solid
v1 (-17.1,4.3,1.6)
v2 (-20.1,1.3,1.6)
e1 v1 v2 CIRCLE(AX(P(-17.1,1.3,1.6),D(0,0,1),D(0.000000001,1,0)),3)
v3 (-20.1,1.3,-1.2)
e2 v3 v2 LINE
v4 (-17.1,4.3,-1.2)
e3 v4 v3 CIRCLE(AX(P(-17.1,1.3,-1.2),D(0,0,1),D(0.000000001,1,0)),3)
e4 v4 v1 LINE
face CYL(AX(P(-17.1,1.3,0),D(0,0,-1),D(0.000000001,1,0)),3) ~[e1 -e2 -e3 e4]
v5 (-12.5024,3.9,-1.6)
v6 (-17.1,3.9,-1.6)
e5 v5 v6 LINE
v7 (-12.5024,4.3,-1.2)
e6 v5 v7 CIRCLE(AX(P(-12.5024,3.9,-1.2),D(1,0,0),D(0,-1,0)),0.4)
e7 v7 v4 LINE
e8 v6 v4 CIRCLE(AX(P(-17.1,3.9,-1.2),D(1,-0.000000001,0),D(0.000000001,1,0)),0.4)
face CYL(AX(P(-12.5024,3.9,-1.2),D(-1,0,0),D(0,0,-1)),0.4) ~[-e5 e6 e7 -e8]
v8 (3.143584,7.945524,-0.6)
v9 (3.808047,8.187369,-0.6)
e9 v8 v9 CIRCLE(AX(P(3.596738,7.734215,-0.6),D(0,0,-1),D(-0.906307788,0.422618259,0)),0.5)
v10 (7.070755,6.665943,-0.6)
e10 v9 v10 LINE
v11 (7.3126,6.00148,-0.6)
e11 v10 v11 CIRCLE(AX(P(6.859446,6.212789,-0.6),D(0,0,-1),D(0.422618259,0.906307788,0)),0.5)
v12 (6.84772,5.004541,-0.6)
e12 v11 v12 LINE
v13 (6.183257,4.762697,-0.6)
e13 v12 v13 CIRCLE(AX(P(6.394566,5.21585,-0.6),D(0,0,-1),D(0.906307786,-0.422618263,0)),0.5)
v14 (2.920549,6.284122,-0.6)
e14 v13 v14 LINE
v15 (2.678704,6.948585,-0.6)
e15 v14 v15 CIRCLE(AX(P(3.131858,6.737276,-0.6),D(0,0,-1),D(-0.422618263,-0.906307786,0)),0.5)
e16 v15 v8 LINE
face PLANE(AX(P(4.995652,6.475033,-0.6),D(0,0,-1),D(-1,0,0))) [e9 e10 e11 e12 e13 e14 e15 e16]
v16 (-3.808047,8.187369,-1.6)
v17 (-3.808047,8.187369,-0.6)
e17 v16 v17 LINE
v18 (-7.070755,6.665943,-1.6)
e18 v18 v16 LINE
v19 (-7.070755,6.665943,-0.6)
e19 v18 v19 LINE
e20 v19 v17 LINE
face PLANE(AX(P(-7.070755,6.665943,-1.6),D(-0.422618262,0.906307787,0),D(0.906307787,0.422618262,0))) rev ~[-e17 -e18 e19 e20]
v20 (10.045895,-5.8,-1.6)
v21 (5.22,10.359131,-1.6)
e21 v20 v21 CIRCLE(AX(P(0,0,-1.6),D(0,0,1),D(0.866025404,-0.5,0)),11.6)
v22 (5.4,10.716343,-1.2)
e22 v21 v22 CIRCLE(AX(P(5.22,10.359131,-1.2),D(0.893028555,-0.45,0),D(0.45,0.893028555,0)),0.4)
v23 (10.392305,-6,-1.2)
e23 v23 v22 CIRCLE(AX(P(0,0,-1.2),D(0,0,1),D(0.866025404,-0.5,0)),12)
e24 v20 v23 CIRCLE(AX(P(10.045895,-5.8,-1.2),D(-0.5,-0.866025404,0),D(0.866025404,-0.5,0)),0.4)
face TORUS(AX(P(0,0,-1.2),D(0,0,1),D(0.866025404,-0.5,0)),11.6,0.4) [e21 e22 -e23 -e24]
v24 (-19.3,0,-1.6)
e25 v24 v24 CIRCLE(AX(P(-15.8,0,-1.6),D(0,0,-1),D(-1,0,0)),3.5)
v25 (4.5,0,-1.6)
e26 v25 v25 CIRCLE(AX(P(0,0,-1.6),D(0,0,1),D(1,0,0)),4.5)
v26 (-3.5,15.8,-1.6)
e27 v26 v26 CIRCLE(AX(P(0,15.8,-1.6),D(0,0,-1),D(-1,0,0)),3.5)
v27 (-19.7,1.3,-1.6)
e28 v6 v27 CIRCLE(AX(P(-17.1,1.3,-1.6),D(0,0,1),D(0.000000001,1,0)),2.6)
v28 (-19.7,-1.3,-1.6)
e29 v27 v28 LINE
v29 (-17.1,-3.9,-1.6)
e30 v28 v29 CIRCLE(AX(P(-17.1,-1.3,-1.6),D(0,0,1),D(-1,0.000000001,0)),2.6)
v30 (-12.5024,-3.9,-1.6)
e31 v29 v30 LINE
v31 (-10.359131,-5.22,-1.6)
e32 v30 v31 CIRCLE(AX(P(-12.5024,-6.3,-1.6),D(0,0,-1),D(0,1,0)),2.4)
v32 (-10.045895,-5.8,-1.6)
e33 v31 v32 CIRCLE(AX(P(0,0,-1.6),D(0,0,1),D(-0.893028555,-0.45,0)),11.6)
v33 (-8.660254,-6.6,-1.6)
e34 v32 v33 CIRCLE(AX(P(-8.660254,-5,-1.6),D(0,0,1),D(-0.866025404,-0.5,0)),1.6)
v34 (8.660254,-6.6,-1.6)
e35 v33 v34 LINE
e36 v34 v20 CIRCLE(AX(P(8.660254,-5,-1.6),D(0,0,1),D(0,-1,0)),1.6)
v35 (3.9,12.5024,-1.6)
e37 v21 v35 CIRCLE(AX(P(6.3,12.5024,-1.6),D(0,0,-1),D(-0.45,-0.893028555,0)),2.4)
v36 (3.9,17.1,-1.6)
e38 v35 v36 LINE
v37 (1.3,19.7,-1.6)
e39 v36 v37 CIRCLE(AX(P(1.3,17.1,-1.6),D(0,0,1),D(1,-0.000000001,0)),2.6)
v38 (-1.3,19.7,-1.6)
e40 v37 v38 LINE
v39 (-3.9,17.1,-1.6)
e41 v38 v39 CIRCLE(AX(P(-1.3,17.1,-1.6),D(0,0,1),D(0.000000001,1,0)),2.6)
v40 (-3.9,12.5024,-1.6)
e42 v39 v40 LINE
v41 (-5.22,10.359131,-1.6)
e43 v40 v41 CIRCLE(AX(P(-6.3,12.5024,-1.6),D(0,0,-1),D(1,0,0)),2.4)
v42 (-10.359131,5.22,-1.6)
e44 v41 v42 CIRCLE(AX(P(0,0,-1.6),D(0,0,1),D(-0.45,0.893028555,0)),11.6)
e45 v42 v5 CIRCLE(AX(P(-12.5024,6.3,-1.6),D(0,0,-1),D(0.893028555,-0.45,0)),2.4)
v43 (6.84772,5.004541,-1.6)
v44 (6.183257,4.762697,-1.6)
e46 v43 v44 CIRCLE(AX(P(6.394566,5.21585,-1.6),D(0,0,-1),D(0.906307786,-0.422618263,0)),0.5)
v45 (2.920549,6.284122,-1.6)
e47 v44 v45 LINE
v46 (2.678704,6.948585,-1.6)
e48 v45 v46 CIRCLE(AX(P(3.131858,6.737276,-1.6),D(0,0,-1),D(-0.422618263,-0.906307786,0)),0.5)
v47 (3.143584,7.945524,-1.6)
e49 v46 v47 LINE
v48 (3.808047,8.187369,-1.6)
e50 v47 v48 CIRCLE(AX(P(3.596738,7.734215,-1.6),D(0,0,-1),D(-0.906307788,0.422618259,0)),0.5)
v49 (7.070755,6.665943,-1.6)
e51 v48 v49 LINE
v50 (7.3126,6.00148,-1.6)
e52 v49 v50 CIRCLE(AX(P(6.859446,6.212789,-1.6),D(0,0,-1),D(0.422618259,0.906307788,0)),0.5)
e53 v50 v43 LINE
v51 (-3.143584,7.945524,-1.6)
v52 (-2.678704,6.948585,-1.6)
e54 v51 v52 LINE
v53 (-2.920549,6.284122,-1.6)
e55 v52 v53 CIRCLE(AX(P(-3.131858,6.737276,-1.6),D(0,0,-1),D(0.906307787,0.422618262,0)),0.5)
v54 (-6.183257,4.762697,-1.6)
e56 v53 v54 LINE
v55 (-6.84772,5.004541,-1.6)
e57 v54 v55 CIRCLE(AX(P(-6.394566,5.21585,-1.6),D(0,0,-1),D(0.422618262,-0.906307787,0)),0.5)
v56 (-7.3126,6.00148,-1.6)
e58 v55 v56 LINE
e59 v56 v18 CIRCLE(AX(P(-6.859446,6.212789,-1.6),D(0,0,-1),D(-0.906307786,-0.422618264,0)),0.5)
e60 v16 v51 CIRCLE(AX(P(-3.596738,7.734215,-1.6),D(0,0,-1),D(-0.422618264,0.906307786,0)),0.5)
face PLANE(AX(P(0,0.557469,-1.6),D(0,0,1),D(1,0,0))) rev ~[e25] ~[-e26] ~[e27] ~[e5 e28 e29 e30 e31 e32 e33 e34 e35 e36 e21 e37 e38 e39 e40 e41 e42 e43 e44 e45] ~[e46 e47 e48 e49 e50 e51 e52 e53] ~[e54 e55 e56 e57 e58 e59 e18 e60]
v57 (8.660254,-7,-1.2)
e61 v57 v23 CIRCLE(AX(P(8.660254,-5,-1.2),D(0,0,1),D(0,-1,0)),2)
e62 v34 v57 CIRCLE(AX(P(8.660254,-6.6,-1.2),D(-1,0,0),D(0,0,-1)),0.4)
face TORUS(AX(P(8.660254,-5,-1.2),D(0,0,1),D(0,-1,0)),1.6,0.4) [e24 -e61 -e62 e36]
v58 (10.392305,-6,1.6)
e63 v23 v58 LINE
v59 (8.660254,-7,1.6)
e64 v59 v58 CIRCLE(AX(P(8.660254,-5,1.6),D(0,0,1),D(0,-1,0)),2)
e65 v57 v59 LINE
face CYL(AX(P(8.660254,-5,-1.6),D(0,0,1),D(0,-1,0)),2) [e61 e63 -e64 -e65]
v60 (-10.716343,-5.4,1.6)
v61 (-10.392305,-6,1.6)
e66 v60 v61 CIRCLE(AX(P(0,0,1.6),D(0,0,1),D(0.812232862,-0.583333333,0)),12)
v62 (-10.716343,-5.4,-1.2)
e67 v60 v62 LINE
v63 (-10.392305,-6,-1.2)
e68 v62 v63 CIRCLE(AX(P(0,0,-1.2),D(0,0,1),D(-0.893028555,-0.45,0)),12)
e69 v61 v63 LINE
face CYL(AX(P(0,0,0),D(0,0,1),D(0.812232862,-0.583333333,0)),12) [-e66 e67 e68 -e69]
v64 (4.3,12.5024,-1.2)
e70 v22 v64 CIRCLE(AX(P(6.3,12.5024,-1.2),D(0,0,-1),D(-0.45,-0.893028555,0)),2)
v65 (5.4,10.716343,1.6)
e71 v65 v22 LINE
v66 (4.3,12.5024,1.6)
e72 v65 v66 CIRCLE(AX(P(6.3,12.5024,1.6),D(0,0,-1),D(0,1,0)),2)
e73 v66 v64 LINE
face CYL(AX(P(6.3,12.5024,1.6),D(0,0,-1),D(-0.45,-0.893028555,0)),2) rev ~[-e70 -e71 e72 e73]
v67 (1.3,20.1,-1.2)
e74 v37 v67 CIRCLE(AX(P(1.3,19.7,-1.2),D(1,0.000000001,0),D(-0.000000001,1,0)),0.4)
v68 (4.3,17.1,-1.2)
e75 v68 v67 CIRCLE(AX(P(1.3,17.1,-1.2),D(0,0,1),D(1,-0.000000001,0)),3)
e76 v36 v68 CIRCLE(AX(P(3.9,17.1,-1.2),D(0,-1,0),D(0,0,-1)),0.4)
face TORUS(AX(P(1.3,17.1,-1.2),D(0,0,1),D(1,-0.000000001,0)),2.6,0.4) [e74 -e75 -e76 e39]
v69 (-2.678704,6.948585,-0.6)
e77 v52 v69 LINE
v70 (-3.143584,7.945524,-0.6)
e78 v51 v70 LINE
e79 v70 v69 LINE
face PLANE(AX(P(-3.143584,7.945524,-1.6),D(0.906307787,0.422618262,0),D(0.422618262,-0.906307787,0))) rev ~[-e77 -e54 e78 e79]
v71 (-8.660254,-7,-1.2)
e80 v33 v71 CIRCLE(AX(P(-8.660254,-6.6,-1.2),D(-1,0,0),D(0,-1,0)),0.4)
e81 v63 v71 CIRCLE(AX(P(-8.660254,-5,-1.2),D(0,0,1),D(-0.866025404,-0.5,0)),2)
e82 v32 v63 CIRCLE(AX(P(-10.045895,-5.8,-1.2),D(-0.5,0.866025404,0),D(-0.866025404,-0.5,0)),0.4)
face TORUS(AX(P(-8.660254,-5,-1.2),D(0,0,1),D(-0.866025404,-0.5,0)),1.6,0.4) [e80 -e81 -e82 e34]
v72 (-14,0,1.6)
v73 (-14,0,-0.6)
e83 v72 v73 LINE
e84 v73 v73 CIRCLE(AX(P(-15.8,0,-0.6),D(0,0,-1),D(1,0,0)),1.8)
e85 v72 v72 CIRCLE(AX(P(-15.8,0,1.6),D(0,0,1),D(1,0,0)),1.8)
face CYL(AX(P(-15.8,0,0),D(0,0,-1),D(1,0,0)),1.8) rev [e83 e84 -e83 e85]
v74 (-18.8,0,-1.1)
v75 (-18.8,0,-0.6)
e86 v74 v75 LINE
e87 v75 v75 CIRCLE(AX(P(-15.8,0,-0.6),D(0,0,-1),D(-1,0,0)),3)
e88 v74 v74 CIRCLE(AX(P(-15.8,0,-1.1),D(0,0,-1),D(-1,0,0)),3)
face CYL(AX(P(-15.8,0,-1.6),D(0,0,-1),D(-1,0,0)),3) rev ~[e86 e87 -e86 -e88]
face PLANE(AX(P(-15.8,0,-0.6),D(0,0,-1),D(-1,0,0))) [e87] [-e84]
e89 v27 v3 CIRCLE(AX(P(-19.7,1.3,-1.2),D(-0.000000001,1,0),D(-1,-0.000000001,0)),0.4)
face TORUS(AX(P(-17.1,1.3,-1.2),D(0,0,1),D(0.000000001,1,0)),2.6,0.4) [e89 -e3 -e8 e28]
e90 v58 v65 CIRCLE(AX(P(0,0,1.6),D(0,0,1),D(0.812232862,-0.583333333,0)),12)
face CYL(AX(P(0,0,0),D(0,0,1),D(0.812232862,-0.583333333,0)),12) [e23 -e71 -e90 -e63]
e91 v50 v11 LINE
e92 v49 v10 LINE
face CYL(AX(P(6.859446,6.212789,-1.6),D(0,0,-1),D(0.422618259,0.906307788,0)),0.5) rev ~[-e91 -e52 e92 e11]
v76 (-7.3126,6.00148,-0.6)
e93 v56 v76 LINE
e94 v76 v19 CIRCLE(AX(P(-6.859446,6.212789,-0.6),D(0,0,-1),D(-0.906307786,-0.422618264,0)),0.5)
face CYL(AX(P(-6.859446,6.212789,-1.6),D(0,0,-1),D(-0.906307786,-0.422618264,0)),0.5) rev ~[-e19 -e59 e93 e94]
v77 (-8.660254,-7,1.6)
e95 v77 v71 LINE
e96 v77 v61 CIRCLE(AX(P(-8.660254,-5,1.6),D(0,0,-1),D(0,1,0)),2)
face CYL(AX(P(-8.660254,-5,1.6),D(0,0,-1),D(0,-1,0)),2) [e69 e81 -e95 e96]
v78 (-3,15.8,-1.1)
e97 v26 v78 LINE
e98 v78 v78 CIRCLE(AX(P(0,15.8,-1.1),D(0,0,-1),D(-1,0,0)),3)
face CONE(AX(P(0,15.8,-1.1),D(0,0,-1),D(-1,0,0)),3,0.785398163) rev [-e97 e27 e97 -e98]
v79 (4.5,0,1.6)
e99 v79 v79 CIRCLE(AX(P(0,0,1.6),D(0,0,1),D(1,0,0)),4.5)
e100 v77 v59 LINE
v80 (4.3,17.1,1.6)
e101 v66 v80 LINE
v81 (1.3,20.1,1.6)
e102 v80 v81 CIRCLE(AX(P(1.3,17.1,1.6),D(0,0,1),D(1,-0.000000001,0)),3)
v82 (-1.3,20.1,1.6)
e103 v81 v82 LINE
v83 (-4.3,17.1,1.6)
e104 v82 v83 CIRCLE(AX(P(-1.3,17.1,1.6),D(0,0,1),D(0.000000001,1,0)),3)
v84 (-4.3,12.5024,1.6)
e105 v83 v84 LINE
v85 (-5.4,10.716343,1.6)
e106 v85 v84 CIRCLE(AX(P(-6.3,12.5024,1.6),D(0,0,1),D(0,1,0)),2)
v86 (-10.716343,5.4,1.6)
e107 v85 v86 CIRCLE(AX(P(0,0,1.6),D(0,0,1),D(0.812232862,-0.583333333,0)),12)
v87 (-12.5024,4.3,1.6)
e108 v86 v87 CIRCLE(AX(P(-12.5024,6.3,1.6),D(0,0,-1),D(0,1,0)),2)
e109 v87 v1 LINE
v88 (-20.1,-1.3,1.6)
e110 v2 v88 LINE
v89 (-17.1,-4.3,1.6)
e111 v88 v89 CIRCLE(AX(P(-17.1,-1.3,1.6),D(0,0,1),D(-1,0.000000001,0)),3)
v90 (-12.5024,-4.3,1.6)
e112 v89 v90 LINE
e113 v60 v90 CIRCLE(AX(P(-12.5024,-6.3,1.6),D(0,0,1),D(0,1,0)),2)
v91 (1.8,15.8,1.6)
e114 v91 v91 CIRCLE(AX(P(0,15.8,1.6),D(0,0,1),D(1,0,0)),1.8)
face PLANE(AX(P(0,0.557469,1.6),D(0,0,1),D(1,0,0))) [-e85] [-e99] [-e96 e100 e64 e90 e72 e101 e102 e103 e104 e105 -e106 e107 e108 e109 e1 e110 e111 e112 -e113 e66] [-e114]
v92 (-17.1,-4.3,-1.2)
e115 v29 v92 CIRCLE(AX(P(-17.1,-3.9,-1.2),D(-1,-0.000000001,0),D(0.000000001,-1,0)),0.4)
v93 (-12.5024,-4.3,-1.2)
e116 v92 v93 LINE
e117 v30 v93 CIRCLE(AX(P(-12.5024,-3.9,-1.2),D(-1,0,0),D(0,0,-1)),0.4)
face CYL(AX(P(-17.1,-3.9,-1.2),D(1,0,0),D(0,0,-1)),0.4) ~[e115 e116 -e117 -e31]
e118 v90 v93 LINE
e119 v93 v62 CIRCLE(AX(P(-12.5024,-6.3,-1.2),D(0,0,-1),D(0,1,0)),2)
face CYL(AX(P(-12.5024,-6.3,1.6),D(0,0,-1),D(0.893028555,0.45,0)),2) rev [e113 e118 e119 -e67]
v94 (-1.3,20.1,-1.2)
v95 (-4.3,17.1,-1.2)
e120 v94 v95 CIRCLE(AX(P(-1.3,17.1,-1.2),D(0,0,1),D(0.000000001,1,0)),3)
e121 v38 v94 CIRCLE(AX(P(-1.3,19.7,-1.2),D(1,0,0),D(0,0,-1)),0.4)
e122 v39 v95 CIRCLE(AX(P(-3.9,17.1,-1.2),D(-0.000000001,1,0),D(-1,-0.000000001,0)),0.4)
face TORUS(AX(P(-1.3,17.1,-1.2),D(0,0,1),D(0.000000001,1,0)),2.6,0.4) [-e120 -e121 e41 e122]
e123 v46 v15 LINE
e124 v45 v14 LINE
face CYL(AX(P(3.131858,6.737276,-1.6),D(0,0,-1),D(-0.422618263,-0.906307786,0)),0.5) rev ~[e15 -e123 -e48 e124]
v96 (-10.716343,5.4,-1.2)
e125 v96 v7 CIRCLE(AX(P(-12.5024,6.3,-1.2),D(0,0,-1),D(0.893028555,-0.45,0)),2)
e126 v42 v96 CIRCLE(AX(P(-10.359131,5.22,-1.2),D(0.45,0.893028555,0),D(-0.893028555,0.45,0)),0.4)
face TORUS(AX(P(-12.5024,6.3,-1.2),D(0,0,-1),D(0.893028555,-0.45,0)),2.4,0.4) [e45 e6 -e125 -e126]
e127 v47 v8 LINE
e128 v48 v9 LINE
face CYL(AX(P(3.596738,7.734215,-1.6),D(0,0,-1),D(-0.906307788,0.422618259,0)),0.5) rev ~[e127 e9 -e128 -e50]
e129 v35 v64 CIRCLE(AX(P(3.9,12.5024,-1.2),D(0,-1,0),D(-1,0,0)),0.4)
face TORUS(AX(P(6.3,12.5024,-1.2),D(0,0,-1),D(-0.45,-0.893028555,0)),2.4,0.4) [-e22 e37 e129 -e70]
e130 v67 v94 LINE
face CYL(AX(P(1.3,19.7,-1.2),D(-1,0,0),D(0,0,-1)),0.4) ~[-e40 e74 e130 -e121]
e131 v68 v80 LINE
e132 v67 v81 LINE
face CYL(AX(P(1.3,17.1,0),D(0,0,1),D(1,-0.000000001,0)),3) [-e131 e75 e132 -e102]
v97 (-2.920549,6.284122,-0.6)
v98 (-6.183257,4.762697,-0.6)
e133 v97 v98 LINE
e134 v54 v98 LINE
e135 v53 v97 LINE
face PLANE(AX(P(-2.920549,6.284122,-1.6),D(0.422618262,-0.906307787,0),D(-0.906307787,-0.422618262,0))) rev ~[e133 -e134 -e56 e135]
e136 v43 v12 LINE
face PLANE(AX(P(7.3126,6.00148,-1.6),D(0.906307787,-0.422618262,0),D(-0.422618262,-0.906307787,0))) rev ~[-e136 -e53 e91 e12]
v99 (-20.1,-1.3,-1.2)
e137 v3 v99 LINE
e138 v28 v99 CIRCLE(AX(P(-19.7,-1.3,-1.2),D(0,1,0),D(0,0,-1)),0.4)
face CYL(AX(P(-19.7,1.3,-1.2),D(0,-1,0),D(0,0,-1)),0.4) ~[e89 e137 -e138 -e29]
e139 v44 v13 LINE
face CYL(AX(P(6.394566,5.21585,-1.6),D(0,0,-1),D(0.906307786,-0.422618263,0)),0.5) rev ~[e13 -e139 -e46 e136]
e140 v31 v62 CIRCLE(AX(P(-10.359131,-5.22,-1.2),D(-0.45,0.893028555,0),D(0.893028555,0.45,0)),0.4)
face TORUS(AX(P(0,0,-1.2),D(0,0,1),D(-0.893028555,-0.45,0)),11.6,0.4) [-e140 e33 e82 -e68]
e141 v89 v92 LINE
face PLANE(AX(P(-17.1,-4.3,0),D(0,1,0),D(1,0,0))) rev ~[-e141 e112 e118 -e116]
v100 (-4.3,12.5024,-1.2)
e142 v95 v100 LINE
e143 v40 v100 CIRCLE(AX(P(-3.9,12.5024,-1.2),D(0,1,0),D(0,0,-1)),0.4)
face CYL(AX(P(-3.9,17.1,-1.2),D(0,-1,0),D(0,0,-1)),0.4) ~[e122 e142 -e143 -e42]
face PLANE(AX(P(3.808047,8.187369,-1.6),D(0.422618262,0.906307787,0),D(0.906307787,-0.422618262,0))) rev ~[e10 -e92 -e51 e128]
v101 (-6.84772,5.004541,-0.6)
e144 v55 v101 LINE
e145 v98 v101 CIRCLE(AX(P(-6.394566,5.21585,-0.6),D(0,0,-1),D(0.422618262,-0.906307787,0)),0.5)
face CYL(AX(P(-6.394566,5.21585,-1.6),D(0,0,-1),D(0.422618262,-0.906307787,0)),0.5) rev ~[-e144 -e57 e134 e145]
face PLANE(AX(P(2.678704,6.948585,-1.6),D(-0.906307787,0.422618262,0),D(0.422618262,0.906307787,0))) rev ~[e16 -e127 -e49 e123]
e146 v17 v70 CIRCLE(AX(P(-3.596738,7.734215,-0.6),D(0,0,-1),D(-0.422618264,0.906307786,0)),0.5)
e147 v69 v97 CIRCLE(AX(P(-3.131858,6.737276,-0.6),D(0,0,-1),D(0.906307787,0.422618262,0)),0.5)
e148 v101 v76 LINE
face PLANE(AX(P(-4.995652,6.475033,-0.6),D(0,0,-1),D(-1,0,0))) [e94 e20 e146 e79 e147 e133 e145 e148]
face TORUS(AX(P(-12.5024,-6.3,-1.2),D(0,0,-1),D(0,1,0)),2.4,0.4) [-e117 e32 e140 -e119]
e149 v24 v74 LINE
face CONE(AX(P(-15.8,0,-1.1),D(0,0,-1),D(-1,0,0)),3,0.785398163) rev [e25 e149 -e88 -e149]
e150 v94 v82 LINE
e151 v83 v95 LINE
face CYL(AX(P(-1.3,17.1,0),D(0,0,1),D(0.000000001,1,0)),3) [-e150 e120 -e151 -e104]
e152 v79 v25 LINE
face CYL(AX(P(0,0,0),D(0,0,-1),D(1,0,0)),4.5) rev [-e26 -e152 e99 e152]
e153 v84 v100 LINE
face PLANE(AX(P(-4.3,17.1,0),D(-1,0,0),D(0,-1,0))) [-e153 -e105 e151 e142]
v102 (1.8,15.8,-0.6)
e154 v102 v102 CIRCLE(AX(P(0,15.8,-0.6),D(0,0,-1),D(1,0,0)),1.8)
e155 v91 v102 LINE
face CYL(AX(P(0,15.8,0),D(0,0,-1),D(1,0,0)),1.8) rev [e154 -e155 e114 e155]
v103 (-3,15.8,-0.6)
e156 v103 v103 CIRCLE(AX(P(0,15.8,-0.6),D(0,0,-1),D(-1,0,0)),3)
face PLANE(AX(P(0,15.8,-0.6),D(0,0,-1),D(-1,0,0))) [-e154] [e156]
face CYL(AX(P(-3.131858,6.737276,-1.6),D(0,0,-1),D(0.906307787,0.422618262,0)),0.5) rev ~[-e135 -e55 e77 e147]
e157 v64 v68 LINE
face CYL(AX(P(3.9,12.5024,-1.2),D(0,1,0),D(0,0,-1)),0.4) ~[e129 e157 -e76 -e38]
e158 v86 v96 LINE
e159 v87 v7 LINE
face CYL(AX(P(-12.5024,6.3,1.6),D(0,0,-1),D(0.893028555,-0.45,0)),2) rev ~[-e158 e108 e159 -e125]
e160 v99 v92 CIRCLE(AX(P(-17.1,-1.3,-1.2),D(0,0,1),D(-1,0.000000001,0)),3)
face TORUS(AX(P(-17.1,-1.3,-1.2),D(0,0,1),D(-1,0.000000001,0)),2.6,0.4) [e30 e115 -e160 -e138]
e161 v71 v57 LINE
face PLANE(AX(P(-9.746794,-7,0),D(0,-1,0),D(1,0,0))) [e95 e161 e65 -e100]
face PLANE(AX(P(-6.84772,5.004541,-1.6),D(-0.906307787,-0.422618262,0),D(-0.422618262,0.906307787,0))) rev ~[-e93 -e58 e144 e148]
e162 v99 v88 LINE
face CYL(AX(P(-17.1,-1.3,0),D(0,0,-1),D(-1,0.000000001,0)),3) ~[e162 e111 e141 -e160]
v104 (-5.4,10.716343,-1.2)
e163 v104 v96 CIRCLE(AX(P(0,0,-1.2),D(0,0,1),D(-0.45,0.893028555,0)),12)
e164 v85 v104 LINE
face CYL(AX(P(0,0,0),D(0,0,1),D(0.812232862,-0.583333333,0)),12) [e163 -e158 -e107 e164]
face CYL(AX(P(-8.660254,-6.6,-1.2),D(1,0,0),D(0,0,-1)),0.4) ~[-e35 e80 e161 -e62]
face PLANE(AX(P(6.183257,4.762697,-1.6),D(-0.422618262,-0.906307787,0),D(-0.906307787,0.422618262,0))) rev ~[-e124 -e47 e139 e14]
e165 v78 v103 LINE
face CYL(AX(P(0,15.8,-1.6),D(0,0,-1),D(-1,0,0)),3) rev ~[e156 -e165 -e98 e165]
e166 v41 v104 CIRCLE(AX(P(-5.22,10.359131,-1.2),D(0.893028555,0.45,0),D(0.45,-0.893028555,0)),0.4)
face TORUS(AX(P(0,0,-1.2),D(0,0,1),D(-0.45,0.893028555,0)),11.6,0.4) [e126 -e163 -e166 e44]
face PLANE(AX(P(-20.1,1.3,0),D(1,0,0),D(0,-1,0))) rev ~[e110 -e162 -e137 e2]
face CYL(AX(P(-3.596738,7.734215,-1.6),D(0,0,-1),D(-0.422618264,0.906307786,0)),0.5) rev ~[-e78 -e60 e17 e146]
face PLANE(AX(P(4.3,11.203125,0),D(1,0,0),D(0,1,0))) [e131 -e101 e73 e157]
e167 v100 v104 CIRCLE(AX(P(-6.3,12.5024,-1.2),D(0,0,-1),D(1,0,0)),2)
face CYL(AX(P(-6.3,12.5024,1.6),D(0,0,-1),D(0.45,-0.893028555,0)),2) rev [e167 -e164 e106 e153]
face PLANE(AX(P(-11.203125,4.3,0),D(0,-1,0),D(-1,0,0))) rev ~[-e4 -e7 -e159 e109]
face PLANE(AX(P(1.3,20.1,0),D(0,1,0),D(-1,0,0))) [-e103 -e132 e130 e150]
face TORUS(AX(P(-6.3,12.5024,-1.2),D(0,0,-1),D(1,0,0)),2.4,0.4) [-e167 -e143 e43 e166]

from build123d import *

# Parameters (mm, degrees)
SKETCH10_R          = 4.5
BOSS_EXTRUDE6_DEPTH = 1.6
SKETCH13_R          = 1.8
BOSS_EXTRUDE7_DEPTH = 1.6
FILLET1_R           = 2
CUT_EXTRUDE2_DEPTH  = 1
SKETCH16_R          = 3
CUT_EXTRUDE3_DEPTH  = 1
CHAMFER1_SIZE       = 0.5
FILLET2_R           = 0.4


with BuildPart() as part:
    # Sketch10 → Boss-Extrude6 (new body, symmetric)
    with BuildSketch(Plane.XY):
        with BuildLine():
            Line((-9.746794345, -7), (9.746794345, -7))
            ThreePointArc((9.746794345, -7), (0, 12), (-9.746794345, -7))
        make_face()
        Circle(SKETCH10_R, mode=Mode.SUBTRACT)
    extrude(amount=BOSS_EXTRUDE6_DEPTH, both=True)

    # Sketch13 → Boss-Extrude7 (add, symmetric)
    with BuildSketch(Plane.XY):
        with BuildLine():
            Line((-11.203124564, 4.3), (-17.1, 4.3))
            ThreePointArc((-17.1, 4.3), (-19.221320344, 3.421320344), (-20.1, 1.3))
            Line((-20.1, 1.3), (-20.1, -1.3))
            ThreePointArc((-20.1, -1.3), (-19.221320344, -3.421320344), (-17.1, -4.3))
            Line((-17.1, -4.3), (-11.203124564, -4.3))
            ThreePointArc((-11.203124564, -4.3), (-12, 0), (-11.203124564, 4.3))
        make_face()
        with Locations((-15.8, 0)):
            Circle(SKETCH13_R, mode=Mode.SUBTRACT)
        with BuildLine():
            Line((4.3, 11.203124564), (4.3, 17.1))
            ThreePointArc((4.3, 17.1), (3.421320344, 19.221320344), (1.3, 20.1))
            Line((1.3, 20.1), (-1.3, 20.1))
            ThreePointArc((-1.3, 20.1), (-3.421320344, 19.221320344), (-4.3, 17.1))
            Line((-4.3, 17.1), (-4.3, 11.203124564))
            ThreePointArc((-4.3, 11.203124564), (0, 12), (4.3, 11.203124564))
        make_face()
        with Locations((0, 15.8)):
            Circle(SKETCH13_R, mode=Mode.SUBTRACT)
    extrude(amount=BOSS_EXTRUDE7_DEPTH, both=True)

    # Fillet1
    fillet1_edges = [part.edges().sort_by_distance(p)[0] for p in [
        (-11.203124564, -4.3, 0),
        (-11.203124564, 4.3, 0),
        (-4.3, 11.203124564, 0),
        (4.3, 11.203124564, 0),
        (9.746794345, -7, 0),
        (-9.746794345, -7, 0),
    ]]
    fillet(fillet1_edges, radius=FILLET1_R)

    # Sketch15 → Cut-Extrude2 (cut)
    with BuildSketch(Plane(origin=(0, 0, -1.6), x_dir=(-1, 0, 0), z_dir=(0, 0, -1))):
        with BuildLine():
            Line((-3.808047036, 8.187368684), (-7.070755069, 6.665942941))
            ThreePointArc((-7.070755069, 6.665942941), (-7.329292249, 6.38379912), (-7.312599832, 6.001479917))
            Line((-7.312599832, 6.001479917), (-6.847719744, 5.004541351))
            ThreePointArc((-6.847719744, 5.004541351), (-6.565575922, 4.746004172), (-6.18325672, 4.762696589))
            Line((-6.18325672, 4.762696589), (-2.920548686, 6.284122331))
            ThreePointArc((-2.920548686, 6.284122331), (-2.662011507, 6.566266153), (-2.678703924, 6.948585355))
            Line((-2.678703924, 6.948585355), (-3.143584012, 7.945523921))
            ThreePointArc((-3.143584012, 7.945523921), (-3.425727833, 8.204061101), (-3.808047036, 8.187368684))
        make_face()
        with BuildLine():
            Line((6.847719744, 5.004541351), (7.312599832, 6.001479917))
            ThreePointArc((7.312599832, 6.001479917), (7.329292249, 6.38379912), (7.070755069, 6.665942941))
            Line((7.070755069, 6.665942941), (3.808047036, 8.187368684))
            ThreePointArc((3.808047036, 8.187368684), (3.425727833, 8.204061101), (3.143584012, 7.945523921))
            Line((3.143584012, 7.945523921), (2.678703924, 6.948585355))
            ThreePointArc((2.678703924, 6.948585355), (2.662011507, 6.566266153), (2.920548686, 6.284122331))
            Line((2.920548686, 6.284122331), (6.18325672, 4.762696589))
            ThreePointArc((6.18325672, 4.762696589), (6.565575922, 4.746004172), (6.847719744, 5.004541351))
        make_face()
    extrude(amount=-CUT_EXTRUDE2_DEPTH, mode=Mode.SUBTRACT)

    # Sketch16 → Cut-Extrude3 (cut)
    with BuildSketch(Plane(origin=(0, 0, -1.6), x_dir=(-1, 0, 0), z_dir=(0, 0, -1))):
        with Locations((0, 15.8)):
            Circle(SKETCH16_R)
        with Locations((15.8, 0)):
            Circle(SKETCH16_R)
    extrude(amount=-CUT_EXTRUDE3_DEPTH, mode=Mode.SUBTRACT)

    # Chamfer1
    chamfer1_edges = [part.edges().sort_by_distance(p)[0] for p in [
        (3, 15.8, -1.6),
        (-12.8, 0, -1.6),
    ]]
    chamfer(chamfer1_edges, length=CHAMFER1_SIZE)

    # Fillet2
    fillet2_edges = [part.edges().sort_by_distance(p)[0] for p in [
        (-19.221320344, 3.421320344, -1.6),
        (-20.1, 0, -1.6),
        (-19.221320344, -3.421320344, -1.6),
        (-14.801199885, -4.3, -1.6),
        (3.421320344, 19.221320344, -1.6),
        (0, 20.1, -1.6),
        (-3.421320344, 19.221320344, -1.6),
        (-4.3, 14.801199885, -1.6),
        (-14.801199885, 4.3, -1.6),
        (-8.485281374, 8.485281374, -1.6),
        (4.3, 14.801199885, -1.6),
        (11.498184685, 3.433911609, -1.6),
        (-10.558586547, -5.702302178, -1.6),
        (0, -7, -1.6),
        (-9.660254038, -6.732050808, -1.6),
        (9.660254038, -6.732050808, -1.6),
        (-11.453590921, 4.597061363, -1.6),
        (4.597061363, 11.453590921, -1.6),
        (-4.597061363, 11.453590921, -1.6),
        (-11.453590921, -4.597061363, -1.6),
    ]]
    fillet(fillet2_edges, radius=FILLET2_R)


solid = part.part
